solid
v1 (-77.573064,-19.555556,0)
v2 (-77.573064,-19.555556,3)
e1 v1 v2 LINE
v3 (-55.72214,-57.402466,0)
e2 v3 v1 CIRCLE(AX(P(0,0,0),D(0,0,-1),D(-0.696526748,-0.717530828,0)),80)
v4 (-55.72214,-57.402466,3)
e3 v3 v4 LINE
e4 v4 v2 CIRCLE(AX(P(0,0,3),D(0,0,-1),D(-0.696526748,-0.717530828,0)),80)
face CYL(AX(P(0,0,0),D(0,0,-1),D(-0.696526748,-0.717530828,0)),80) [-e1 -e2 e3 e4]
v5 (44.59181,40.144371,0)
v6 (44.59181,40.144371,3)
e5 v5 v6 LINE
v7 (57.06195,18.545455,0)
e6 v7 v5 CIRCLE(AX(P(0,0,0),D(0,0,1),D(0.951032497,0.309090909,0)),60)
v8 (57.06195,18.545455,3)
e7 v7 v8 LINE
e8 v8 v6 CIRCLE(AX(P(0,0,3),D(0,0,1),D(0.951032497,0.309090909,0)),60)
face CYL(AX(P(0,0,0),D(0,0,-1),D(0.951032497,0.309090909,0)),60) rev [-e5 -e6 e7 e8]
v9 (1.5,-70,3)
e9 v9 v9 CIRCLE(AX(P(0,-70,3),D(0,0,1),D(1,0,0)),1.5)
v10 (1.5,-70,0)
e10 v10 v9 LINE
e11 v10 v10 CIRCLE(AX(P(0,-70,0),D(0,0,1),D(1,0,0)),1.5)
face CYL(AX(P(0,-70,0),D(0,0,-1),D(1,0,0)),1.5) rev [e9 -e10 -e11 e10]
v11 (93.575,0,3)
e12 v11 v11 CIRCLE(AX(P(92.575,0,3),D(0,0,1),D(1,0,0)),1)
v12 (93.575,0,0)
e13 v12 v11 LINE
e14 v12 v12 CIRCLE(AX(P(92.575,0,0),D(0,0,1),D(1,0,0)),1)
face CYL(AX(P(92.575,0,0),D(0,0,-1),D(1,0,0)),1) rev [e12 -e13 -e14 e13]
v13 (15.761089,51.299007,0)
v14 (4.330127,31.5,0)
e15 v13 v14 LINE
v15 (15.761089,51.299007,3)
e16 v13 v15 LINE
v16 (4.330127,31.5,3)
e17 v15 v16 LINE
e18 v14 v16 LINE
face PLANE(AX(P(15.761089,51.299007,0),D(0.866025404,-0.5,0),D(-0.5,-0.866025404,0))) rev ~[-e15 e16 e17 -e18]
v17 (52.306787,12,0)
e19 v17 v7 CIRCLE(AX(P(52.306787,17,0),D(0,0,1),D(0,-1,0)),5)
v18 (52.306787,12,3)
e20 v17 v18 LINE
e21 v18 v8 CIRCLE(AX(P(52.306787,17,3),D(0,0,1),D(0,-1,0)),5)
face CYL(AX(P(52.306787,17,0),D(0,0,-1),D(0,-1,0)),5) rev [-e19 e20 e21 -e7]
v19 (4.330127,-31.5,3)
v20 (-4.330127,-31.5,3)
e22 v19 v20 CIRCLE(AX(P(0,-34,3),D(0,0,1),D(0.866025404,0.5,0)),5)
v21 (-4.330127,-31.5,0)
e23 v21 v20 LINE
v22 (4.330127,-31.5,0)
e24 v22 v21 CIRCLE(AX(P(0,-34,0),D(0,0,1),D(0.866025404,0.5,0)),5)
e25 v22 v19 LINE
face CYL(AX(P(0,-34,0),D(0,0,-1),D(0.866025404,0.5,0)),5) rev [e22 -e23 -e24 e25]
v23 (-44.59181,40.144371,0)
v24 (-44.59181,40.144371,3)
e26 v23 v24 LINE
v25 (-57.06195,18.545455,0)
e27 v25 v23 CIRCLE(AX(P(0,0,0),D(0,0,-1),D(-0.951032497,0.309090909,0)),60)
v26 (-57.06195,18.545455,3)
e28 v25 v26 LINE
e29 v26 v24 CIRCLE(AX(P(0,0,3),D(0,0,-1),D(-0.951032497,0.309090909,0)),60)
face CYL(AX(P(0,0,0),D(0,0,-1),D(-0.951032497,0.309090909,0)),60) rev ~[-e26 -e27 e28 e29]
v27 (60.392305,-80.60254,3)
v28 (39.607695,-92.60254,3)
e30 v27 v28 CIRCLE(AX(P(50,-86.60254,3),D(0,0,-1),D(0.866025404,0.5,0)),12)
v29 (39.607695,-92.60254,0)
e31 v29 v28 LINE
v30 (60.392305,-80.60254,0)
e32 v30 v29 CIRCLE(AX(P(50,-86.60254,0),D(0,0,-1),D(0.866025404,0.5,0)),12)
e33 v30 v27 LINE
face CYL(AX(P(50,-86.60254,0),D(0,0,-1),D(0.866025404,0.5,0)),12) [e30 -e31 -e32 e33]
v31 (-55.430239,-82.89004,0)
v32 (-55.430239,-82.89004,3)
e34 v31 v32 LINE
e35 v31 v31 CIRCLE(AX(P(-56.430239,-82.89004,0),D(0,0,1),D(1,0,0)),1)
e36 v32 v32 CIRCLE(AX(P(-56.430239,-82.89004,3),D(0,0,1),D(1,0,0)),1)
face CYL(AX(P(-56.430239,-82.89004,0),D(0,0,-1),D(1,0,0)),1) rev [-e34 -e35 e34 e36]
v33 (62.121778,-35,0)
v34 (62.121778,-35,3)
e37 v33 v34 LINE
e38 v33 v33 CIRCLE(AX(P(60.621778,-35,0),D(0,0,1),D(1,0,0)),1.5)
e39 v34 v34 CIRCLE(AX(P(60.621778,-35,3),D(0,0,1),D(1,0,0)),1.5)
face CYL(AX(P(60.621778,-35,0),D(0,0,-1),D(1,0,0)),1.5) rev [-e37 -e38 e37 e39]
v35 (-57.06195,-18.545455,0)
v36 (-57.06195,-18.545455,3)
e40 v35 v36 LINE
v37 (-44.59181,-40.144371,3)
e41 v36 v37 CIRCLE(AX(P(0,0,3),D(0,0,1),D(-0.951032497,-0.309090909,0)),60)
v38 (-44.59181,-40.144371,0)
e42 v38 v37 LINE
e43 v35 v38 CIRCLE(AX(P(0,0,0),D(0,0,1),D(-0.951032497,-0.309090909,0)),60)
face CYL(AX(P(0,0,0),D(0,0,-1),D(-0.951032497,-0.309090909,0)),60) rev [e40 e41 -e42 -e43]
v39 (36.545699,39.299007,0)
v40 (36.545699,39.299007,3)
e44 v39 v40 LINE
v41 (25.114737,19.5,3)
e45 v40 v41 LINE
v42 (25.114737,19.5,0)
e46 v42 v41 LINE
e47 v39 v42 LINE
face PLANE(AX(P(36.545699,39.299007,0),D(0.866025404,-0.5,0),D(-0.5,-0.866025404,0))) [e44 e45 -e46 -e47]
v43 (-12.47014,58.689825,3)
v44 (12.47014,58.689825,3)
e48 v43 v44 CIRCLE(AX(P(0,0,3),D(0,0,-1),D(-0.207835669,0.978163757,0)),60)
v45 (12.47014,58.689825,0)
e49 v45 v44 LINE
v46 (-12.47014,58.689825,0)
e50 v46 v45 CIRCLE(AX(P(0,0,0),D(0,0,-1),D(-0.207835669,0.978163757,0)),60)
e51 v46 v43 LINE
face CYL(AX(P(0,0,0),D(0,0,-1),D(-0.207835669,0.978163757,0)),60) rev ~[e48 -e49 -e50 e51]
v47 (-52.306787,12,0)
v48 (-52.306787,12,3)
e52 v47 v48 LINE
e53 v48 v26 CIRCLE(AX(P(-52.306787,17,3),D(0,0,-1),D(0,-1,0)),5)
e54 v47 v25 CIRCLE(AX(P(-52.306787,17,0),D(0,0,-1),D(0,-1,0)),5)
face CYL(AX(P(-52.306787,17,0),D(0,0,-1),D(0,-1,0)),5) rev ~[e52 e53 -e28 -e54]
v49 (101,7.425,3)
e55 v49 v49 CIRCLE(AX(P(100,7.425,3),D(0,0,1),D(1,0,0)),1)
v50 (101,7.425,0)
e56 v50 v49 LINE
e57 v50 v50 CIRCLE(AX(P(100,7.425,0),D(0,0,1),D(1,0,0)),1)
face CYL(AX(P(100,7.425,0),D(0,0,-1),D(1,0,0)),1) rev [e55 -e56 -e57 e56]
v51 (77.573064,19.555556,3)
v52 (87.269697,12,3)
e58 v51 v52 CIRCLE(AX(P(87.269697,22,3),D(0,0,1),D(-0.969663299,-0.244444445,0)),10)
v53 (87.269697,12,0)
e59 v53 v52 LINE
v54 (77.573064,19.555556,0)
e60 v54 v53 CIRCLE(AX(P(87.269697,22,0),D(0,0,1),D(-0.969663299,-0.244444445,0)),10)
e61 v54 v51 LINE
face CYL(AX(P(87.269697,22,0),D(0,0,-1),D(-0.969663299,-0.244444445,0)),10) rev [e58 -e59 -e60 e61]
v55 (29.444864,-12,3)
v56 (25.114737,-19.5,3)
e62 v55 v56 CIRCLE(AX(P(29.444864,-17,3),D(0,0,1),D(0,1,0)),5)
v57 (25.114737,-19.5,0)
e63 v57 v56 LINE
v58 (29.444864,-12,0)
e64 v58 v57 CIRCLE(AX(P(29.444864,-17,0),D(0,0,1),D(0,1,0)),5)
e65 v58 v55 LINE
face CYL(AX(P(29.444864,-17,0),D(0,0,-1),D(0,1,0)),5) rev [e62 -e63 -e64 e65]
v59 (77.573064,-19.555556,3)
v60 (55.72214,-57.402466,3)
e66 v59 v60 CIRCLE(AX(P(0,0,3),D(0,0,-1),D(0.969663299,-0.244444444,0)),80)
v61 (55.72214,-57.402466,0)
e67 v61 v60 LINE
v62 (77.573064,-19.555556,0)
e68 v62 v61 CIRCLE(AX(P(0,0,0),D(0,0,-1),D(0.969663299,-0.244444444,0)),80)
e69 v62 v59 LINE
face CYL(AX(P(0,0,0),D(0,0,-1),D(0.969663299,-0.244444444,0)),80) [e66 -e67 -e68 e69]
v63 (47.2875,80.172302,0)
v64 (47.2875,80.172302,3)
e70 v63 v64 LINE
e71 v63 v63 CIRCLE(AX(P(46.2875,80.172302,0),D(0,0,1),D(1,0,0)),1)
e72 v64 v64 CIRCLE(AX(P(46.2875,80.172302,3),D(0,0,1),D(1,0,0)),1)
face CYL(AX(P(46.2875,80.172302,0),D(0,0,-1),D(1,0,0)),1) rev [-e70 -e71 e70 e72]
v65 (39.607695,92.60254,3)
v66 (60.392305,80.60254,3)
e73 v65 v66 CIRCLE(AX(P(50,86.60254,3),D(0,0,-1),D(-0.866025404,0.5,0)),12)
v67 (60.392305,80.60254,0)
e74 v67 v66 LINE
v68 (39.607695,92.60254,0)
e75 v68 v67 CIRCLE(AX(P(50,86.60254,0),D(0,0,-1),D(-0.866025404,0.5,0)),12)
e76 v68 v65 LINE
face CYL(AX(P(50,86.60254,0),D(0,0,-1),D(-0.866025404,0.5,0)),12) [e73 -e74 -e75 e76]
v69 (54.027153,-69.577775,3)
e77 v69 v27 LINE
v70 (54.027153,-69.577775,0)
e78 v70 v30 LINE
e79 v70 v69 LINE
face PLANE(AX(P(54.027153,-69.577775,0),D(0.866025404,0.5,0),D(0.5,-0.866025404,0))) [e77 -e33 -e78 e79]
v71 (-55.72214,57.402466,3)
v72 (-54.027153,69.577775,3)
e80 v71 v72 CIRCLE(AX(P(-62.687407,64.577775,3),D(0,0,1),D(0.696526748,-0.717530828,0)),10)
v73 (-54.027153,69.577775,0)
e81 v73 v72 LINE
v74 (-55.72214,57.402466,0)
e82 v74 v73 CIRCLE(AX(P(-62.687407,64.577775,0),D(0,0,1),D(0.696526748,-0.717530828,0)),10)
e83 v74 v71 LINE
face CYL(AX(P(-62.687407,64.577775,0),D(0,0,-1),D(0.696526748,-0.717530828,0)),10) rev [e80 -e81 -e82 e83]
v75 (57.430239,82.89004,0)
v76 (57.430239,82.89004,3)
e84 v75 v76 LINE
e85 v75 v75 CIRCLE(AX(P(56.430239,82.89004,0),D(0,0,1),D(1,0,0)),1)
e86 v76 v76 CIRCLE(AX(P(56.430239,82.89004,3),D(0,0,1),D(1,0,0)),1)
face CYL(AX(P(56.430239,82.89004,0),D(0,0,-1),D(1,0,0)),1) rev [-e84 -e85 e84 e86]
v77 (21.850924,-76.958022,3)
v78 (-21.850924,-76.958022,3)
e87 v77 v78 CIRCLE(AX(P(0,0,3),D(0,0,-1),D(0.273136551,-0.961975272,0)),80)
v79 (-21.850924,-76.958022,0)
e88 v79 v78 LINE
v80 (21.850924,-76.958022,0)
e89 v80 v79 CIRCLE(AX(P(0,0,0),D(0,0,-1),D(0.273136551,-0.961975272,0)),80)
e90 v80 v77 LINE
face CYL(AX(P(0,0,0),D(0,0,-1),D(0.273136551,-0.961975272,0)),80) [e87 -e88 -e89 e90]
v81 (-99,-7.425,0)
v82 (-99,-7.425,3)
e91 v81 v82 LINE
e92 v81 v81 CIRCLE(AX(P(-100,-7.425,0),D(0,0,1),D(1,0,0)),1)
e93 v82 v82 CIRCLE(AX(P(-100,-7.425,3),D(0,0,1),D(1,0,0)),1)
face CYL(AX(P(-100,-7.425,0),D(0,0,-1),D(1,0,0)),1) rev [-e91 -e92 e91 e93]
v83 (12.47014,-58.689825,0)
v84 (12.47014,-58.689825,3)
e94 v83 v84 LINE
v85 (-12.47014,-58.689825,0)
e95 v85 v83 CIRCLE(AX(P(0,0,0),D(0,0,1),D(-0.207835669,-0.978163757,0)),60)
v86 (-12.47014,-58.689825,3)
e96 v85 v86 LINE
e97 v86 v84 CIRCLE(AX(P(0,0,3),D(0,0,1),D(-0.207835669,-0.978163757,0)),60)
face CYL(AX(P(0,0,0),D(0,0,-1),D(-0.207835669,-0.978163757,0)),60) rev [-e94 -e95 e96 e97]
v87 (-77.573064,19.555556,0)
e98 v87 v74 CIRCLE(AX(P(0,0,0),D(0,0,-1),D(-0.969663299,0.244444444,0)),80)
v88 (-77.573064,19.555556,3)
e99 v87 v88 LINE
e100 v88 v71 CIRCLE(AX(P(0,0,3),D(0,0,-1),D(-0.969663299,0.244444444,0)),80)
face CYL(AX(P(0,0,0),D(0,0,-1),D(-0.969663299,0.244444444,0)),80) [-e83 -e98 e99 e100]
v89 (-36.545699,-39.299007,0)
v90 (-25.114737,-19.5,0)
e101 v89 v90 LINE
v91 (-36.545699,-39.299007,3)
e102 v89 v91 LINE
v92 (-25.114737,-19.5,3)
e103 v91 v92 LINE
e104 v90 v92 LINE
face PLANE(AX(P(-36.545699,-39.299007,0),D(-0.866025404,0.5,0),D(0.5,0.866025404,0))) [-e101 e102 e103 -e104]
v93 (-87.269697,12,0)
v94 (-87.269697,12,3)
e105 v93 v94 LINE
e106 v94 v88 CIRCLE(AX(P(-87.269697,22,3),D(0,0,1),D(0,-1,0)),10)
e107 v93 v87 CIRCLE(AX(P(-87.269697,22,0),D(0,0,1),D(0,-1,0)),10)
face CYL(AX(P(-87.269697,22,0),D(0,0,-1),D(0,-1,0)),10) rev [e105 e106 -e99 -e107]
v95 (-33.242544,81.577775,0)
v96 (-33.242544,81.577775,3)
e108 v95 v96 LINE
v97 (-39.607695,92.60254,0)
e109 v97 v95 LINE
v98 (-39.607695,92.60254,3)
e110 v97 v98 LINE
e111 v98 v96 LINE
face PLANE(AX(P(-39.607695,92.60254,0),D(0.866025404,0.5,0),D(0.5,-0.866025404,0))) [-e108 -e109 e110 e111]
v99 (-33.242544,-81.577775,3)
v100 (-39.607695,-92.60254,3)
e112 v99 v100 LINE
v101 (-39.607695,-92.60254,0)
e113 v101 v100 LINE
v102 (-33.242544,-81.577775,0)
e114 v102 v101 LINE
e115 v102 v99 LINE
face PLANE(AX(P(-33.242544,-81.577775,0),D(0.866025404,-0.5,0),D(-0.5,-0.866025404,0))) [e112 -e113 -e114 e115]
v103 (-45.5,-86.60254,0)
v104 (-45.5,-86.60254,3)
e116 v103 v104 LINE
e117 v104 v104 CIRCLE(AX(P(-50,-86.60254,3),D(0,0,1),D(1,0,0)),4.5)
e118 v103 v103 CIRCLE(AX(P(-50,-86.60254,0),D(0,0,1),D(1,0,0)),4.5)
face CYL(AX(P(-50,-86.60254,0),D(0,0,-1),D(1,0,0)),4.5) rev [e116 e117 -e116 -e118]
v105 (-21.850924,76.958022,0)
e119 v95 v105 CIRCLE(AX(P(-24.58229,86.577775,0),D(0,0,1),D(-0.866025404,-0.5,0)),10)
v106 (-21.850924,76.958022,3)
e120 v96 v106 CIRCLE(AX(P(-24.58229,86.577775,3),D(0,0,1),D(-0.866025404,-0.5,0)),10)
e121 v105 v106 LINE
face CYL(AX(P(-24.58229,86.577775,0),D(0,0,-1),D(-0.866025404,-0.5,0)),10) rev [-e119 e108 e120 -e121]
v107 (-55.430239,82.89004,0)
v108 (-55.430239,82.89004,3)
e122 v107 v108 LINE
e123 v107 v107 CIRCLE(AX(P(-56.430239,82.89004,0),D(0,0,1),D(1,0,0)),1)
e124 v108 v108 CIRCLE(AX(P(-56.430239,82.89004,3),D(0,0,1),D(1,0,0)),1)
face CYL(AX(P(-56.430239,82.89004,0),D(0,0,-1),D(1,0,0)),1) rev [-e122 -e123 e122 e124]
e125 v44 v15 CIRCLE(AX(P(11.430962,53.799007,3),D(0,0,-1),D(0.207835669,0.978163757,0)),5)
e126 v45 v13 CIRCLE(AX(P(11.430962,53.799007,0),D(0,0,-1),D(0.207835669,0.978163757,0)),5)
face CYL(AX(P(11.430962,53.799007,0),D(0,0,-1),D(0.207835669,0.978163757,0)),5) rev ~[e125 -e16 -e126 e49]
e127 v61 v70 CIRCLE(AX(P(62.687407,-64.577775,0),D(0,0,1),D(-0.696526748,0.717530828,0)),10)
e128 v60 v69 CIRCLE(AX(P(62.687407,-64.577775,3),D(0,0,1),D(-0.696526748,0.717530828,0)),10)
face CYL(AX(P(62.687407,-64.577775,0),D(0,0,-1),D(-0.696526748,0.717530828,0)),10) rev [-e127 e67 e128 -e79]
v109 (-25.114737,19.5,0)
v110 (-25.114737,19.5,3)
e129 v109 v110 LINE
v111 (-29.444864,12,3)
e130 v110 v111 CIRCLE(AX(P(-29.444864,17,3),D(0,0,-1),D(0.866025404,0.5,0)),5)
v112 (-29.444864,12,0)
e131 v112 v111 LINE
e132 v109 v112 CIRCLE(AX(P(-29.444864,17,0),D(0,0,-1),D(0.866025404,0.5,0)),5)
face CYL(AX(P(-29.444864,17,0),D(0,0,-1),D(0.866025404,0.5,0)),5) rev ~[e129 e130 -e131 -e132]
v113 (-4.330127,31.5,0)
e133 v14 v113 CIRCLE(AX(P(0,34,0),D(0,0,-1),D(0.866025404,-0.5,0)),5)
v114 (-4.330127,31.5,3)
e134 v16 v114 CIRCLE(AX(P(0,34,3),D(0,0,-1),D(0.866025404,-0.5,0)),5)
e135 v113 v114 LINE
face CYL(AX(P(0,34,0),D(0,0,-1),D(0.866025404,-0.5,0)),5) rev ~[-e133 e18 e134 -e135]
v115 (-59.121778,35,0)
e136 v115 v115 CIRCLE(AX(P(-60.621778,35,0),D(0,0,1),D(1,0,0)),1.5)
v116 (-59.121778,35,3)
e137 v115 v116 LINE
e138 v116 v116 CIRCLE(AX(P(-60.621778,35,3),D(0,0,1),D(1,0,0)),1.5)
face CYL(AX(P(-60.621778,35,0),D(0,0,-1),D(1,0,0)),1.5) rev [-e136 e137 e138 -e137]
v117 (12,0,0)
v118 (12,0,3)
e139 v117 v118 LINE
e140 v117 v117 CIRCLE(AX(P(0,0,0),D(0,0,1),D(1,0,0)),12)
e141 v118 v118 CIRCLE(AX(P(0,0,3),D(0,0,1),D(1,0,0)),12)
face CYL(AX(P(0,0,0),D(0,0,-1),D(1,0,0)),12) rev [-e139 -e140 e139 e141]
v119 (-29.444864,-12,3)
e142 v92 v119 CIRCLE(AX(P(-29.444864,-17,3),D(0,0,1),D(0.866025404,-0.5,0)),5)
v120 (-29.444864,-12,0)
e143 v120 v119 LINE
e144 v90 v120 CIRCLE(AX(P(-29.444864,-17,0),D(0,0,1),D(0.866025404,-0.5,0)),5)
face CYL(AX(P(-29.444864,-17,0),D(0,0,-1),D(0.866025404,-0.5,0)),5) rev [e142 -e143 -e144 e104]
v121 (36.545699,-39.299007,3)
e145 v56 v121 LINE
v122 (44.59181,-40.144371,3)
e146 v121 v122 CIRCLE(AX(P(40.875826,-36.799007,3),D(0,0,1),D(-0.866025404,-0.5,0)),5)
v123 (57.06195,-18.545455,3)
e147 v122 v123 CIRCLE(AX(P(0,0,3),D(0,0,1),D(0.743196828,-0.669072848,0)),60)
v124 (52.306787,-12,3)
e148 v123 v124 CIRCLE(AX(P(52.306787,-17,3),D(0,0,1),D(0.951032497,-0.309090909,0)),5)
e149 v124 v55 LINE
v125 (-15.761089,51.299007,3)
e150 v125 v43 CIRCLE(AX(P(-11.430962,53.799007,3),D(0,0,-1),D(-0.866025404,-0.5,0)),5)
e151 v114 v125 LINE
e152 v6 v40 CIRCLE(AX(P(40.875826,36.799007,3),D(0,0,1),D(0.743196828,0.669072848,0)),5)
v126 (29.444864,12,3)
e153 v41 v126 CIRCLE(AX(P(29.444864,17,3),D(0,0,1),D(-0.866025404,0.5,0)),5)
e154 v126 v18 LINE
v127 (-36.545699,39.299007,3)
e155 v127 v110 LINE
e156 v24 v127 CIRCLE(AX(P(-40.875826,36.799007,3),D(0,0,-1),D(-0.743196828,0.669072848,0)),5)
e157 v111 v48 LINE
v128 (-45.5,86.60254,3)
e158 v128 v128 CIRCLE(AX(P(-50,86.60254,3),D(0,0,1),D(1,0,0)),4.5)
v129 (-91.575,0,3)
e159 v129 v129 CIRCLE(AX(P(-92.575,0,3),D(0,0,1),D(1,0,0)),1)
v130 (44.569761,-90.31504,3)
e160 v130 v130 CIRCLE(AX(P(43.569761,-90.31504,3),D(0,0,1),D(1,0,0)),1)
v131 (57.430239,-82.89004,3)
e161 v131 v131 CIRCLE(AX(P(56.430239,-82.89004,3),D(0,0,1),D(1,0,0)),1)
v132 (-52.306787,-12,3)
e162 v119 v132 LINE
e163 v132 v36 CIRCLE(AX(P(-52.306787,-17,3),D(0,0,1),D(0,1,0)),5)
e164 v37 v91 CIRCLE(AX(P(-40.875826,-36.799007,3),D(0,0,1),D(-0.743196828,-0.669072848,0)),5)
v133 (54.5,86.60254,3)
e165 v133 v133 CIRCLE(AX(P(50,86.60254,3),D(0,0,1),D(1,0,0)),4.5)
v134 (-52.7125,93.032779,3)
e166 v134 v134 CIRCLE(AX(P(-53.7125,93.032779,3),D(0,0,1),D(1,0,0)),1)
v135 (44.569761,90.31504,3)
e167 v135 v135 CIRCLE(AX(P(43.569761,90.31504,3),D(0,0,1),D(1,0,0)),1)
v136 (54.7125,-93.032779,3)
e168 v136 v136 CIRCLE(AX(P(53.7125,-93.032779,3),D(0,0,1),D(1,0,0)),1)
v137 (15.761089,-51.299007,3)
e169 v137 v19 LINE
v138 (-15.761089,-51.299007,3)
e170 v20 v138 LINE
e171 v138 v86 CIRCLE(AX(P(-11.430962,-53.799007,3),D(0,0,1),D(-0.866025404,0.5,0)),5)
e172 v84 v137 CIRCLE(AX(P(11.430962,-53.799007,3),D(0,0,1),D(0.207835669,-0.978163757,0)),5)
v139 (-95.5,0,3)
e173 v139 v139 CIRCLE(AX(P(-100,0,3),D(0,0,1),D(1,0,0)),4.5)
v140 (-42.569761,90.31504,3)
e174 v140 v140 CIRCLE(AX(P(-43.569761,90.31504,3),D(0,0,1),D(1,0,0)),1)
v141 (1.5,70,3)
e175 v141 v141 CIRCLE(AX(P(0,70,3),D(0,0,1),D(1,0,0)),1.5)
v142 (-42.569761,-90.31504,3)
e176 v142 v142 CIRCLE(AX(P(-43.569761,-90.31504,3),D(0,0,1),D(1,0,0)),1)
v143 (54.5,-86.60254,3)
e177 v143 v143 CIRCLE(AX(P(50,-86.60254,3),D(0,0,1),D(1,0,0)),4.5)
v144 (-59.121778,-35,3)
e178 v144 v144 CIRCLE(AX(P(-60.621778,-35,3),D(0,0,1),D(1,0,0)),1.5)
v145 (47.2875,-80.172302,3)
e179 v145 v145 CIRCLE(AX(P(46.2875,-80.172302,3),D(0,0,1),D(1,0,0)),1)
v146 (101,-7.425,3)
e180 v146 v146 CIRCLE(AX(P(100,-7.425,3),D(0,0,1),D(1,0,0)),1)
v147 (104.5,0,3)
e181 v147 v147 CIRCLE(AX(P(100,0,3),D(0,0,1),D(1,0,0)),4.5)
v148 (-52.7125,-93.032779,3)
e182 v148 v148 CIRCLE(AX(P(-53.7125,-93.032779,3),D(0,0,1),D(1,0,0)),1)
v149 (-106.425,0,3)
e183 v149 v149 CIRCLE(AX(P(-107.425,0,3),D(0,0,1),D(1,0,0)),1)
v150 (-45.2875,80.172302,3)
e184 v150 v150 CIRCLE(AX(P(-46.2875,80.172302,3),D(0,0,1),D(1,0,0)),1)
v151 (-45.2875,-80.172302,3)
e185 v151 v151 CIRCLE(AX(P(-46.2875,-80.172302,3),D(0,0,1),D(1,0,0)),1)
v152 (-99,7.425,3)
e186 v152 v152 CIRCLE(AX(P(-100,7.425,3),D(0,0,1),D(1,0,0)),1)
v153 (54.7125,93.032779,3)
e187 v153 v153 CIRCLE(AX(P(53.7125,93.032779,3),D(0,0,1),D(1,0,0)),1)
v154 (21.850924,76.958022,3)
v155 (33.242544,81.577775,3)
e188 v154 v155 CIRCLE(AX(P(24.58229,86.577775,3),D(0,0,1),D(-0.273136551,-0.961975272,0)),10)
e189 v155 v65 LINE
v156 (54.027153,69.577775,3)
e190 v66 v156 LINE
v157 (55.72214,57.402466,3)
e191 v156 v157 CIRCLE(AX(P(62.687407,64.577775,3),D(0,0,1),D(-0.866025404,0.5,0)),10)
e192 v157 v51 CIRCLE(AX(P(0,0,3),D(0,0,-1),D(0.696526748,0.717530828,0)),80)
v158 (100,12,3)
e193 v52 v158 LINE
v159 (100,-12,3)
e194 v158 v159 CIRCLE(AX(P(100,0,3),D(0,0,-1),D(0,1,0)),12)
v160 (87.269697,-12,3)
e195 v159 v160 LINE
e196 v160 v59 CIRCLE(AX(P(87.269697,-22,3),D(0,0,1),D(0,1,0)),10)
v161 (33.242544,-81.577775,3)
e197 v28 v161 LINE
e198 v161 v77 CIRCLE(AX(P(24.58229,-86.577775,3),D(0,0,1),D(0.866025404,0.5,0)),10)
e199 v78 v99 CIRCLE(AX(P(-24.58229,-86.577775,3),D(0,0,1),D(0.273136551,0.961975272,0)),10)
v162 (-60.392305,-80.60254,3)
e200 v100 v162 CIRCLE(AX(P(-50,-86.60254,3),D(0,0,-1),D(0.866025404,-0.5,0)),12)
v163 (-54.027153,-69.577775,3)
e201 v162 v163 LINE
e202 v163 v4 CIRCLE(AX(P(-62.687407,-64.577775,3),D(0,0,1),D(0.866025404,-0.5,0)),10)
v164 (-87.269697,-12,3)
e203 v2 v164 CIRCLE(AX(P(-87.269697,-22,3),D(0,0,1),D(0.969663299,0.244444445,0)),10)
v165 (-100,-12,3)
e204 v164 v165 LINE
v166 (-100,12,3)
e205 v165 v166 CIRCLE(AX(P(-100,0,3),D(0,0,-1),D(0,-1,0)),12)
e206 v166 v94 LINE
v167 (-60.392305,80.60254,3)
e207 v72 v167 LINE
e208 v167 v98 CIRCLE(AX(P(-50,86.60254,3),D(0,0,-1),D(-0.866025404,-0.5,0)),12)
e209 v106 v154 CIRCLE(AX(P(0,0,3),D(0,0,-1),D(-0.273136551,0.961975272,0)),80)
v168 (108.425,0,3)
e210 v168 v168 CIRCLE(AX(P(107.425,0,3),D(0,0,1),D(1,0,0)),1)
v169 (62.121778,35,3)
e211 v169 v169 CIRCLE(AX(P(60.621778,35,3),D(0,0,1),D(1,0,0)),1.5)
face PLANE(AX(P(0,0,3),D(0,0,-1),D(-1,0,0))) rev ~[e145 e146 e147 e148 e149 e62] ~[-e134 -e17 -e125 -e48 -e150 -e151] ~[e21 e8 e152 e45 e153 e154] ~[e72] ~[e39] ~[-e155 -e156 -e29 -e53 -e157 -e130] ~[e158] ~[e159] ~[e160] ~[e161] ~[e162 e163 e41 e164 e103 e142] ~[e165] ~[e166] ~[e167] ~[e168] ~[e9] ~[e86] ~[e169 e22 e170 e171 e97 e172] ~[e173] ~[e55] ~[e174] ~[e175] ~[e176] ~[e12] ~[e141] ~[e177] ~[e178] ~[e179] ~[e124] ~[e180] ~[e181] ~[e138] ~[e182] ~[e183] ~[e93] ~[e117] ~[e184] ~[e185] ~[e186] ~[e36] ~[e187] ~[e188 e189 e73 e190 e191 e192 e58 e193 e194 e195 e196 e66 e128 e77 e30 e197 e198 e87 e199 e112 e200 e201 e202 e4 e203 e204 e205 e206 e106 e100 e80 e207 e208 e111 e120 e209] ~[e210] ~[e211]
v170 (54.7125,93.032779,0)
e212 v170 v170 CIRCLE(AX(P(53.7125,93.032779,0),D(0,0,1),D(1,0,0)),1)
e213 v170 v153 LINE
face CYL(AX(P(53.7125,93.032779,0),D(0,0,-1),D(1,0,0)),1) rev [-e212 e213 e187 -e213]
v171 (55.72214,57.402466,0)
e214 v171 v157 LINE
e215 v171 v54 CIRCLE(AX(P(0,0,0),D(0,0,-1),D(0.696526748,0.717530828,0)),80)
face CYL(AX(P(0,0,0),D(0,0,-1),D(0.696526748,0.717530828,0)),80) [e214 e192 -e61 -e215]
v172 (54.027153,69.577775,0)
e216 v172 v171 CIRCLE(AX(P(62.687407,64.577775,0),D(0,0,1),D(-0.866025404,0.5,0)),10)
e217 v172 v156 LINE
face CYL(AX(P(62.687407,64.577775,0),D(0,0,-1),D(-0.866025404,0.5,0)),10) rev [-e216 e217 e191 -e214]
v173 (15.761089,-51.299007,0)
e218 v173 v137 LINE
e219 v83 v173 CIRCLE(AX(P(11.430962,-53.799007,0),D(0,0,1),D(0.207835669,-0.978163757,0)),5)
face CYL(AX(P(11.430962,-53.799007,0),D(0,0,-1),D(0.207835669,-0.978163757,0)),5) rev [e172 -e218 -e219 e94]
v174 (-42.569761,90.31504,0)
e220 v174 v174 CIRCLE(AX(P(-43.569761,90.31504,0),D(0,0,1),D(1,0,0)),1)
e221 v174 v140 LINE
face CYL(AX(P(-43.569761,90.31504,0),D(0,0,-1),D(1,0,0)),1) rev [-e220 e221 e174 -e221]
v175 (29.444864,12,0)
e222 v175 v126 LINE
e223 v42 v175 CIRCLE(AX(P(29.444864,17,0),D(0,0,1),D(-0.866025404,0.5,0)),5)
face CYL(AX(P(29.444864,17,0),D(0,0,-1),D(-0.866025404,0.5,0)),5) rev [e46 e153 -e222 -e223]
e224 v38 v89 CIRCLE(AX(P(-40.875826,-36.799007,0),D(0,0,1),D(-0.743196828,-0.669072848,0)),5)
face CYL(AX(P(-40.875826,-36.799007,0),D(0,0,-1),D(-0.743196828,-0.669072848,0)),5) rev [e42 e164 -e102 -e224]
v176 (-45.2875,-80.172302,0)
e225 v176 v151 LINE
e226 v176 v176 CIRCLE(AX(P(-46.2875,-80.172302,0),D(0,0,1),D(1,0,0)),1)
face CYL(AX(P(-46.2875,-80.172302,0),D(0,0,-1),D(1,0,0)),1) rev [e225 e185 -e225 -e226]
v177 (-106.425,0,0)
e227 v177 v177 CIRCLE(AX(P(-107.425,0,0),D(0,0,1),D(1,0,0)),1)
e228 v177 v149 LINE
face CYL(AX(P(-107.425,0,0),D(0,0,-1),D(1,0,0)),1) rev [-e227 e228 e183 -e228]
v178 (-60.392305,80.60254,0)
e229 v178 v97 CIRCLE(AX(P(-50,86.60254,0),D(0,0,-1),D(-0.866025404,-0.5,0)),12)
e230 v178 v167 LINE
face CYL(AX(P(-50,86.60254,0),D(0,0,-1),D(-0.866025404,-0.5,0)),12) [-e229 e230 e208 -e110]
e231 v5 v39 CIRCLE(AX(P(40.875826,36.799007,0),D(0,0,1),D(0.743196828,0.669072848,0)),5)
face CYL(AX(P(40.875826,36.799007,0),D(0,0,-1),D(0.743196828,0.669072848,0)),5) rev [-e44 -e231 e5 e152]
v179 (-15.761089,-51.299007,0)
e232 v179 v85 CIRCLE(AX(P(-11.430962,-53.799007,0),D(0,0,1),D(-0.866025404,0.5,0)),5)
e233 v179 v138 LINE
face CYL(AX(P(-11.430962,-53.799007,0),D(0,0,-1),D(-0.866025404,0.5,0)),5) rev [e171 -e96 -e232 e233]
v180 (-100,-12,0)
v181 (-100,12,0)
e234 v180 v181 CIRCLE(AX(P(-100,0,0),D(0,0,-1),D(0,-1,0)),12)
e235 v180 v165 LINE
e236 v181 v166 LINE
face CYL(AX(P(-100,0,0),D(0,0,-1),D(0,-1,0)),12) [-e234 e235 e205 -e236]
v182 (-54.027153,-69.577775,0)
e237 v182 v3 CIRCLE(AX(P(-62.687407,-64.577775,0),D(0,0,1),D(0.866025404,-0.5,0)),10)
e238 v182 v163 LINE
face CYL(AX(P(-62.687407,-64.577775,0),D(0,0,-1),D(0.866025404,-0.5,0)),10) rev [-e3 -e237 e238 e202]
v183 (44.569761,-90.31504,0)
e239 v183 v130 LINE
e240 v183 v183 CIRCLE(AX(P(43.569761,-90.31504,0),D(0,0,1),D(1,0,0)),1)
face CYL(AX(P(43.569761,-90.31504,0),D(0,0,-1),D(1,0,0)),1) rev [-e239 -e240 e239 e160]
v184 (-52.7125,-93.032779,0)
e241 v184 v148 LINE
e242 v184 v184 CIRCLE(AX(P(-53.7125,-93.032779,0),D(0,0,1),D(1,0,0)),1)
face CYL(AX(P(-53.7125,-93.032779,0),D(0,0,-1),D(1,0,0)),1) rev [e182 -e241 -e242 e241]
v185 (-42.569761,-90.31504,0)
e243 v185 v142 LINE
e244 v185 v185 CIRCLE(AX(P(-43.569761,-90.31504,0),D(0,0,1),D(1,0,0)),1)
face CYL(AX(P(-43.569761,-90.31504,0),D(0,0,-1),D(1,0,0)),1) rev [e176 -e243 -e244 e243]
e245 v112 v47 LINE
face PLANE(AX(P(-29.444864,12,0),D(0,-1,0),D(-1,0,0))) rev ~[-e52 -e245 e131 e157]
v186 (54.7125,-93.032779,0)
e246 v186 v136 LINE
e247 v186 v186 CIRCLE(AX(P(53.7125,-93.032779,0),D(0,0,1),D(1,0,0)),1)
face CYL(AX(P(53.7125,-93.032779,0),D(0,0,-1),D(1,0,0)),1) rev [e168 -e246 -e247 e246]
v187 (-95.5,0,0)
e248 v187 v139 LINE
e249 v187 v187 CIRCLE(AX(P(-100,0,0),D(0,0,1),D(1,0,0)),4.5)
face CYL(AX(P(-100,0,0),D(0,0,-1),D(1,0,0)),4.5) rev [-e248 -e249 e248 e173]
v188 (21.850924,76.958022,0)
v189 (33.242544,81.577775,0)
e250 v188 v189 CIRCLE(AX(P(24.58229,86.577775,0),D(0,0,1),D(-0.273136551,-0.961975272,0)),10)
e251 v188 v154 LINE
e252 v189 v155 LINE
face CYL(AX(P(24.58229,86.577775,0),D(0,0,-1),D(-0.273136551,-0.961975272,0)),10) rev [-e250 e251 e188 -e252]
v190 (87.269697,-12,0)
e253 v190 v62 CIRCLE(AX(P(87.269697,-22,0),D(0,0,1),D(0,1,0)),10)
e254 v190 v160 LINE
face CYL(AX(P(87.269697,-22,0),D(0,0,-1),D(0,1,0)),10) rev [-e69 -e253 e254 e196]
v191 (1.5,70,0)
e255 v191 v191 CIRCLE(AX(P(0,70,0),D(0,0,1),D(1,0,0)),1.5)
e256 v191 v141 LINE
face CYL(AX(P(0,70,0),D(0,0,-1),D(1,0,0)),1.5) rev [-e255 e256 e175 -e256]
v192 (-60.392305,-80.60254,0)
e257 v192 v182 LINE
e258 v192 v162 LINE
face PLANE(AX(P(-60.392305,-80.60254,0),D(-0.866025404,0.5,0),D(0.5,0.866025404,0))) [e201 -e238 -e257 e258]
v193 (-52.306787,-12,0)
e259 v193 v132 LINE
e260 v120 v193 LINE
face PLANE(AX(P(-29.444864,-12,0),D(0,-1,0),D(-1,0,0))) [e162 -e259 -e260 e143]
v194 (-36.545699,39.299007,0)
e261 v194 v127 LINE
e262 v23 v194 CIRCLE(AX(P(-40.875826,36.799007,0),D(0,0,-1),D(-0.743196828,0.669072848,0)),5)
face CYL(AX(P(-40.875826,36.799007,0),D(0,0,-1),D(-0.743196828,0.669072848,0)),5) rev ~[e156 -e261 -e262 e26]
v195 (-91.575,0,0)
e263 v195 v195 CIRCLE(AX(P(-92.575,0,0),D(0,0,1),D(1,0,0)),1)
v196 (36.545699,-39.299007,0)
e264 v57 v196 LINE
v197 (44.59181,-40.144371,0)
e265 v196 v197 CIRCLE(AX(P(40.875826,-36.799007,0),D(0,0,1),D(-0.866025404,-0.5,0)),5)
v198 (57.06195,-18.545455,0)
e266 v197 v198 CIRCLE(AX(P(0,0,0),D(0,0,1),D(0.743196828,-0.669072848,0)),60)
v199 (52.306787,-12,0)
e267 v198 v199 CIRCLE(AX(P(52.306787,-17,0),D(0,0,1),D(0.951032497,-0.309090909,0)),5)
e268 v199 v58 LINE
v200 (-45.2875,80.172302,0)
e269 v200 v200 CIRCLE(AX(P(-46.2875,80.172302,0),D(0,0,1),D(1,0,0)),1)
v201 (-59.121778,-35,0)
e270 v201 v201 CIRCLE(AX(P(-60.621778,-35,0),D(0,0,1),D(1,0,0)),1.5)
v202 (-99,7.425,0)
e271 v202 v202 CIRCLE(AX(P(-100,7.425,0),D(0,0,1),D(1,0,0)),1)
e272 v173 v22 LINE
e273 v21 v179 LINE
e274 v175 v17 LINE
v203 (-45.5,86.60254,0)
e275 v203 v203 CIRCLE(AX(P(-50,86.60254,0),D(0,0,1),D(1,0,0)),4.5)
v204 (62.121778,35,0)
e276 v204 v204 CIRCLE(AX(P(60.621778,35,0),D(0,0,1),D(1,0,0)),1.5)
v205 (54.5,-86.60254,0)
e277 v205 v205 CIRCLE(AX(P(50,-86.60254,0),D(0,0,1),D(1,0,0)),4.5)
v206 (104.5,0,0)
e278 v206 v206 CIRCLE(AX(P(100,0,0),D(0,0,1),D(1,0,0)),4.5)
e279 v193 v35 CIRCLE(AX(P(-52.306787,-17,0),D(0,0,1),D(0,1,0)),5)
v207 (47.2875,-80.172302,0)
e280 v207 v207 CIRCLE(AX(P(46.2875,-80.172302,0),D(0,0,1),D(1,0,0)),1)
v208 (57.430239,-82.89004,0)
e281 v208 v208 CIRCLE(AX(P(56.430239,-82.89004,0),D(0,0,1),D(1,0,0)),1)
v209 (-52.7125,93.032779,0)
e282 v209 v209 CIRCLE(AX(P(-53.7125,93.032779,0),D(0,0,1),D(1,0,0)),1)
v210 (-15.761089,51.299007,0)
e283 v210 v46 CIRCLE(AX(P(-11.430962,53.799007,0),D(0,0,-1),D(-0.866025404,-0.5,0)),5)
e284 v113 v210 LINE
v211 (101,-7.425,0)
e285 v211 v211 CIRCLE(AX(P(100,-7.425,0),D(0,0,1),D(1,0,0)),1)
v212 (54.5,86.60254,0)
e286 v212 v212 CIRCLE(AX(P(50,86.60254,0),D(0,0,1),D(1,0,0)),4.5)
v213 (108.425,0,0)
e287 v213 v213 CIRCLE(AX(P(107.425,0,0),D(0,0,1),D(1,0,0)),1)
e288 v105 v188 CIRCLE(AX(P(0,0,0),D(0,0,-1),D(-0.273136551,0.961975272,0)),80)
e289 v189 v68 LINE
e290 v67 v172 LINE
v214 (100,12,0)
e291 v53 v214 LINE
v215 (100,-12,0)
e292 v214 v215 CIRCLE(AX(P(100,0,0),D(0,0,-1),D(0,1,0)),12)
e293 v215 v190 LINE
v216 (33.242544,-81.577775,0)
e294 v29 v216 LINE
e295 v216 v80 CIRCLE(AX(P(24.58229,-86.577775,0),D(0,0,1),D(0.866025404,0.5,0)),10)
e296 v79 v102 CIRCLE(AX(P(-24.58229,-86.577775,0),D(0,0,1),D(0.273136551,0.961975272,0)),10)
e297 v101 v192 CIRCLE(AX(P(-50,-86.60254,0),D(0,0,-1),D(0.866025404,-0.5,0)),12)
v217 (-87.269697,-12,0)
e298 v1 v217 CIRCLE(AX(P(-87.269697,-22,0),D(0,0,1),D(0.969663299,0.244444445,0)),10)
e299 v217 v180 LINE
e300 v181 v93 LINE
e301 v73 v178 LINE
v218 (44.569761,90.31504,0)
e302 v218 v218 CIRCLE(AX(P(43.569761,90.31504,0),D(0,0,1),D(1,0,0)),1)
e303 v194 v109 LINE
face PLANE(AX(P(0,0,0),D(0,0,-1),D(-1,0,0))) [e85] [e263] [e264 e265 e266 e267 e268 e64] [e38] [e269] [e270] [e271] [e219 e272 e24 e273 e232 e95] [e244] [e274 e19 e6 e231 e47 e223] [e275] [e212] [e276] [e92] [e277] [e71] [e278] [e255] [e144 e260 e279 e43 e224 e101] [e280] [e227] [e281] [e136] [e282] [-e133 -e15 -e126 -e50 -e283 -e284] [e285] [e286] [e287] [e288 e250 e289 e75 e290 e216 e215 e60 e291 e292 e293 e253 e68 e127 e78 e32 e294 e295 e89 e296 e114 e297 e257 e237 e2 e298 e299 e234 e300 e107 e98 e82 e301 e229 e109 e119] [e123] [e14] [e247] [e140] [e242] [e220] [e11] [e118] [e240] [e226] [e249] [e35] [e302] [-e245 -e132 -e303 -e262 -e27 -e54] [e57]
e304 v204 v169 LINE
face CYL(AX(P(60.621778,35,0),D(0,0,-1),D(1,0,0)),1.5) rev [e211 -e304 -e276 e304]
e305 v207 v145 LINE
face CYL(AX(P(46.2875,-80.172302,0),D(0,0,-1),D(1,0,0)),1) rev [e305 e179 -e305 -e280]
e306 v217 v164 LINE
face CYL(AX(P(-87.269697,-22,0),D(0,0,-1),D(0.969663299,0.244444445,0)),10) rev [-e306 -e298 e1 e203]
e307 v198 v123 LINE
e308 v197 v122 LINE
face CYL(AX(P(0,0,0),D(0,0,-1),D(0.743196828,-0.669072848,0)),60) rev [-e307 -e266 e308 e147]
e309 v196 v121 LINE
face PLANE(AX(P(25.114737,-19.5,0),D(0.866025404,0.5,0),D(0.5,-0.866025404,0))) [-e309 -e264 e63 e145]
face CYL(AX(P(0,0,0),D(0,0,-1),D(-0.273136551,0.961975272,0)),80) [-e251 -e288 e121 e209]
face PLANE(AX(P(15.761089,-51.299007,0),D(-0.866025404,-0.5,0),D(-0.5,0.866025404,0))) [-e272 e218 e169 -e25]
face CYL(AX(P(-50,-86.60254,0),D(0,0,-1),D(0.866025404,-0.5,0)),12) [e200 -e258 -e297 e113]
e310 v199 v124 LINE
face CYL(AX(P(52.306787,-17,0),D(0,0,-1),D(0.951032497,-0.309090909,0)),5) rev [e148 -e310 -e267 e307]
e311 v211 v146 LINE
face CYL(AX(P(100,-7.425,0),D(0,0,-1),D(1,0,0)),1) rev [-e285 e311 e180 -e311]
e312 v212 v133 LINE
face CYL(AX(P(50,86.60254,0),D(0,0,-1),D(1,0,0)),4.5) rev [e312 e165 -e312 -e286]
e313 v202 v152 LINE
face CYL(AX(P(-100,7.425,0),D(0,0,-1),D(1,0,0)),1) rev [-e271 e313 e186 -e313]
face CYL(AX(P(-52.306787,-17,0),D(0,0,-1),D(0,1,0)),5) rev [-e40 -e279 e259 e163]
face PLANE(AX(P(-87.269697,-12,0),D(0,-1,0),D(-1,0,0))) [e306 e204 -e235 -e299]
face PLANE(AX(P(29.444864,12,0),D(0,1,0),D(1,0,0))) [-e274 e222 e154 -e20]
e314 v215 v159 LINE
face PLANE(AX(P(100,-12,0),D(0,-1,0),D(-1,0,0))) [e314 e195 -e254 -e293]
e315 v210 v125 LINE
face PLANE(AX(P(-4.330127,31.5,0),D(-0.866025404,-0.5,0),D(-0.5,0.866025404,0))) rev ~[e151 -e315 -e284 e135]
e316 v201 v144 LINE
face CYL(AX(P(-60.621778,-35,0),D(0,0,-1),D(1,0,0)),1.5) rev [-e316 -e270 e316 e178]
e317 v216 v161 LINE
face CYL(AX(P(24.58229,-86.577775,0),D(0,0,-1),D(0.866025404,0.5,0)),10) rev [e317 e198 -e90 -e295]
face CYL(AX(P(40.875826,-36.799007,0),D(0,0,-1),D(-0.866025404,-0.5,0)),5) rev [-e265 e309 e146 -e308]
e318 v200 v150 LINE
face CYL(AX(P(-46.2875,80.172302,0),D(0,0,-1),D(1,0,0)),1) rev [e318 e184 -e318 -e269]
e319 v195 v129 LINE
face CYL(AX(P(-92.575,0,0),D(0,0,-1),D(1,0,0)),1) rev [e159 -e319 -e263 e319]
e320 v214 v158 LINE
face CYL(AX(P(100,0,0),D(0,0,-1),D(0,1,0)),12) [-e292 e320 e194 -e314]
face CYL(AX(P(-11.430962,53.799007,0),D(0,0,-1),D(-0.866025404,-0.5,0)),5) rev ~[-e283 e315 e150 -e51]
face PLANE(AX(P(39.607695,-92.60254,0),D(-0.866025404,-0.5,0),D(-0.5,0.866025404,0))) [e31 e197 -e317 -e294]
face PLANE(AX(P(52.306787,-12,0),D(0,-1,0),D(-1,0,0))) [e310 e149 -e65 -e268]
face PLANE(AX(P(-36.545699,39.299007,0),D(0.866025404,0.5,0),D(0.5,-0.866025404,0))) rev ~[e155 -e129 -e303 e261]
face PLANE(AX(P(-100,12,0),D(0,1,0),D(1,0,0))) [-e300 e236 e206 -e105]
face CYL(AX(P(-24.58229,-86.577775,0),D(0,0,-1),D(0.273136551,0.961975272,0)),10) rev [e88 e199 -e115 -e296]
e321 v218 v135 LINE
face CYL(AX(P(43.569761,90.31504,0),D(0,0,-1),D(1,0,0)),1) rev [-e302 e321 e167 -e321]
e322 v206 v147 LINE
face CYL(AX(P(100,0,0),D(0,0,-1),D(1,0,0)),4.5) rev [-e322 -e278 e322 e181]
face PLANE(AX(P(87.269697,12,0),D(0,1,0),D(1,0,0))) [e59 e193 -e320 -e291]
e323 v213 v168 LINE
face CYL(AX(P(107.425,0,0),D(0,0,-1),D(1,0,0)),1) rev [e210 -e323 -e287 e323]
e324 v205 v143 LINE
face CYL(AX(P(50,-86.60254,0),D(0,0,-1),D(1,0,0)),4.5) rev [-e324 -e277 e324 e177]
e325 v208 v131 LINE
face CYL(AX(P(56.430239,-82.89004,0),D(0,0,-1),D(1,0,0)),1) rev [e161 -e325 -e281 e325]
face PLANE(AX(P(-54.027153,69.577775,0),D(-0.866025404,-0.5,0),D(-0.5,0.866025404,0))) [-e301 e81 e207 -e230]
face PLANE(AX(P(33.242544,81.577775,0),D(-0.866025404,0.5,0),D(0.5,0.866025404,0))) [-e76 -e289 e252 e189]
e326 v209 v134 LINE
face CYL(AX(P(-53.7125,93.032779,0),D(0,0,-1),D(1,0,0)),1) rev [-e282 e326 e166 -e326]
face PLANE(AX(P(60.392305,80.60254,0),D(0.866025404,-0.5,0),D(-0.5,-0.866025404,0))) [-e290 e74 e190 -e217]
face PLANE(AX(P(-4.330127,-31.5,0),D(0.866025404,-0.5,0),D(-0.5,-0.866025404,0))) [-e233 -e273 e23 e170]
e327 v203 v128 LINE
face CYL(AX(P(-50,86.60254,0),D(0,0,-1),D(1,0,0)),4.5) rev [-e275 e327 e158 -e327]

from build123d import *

# Parameters (mm, degrees)
SKETCH1_R           = 4.5
SKETCH1_R_2         = 1
SKETCH1_R_3         = 12
SKETCH1_R_4         = 1.5
BOSS_EXTRUDE1_DEPTH = 3


with BuildPart() as part:
    # Sketch1 → Boss-Extrude1 (new body)
    with BuildSketch(Plane.XY):
        with BuildLine():
            Line((-54.027153304, 69.577774511), (-60.392304845, 80.602540378))
            ThreePointArc((-60.392304845, 80.602540378), (-56, 96.994845224), (-39.607695155, 92.602540378))
            Line((-39.607695155, 92.602540378), (-33.242543613, 81.577774511))
            ThreePointArc((-33.242543613, 81.577774511), (-28.3404086, 77.310814848), (-21.850924067, 76.958021787))
            ThreePointArc((-21.850924067, 76.958021787), (0, 80), (21.850924067, 76.958021787))
            ThreePointArc((21.850924067, 76.958021787), (28.3404086, 77.310814848), (33.242543613, 81.577774511))
            Line((33.242543613, 81.577774511), (39.607695155, 92.602540378))
            ThreePointArc((39.607695155, 92.602540378), (56, 96.994845224), (60.392304845, 80.602540378))
            Line((60.392304845, 80.602540378), (54.027153304, 69.577774511))
            ThreePointArc((54.027153304, 69.577774511), (52.782925345, 63.198921225), (55.722139859, 57.402466232))
            ThreePointArc((55.722139859, 57.402466232), (69.282032303, 40), (77.573063926, 19.555555556))
            ThreePointArc((77.573063926, 19.555555556), (81.123333946, 14.111893623), (87.269696917, 12))
            Line((87.269696917, 12), (100, 12))
            ThreePointArc((100, 12), (112, 0), (100, -12))
            Line((100, -12), (87.269696917, -12))
            ThreePointArc((87.269696917, -12), (81.123333946, -14.111893623), (77.573063926, -19.555555556))
            ThreePointArc((77.573063926, -19.555555556), (69.282032303, -40), (55.722139859, -57.402466232))
            ThreePointArc((55.722139859, -57.402466232), (52.782925345, -63.198921225), (54.027153304, -69.577774511))
            Line((54.027153304, -69.577774511), (60.392304845, -80.602540378))
            ThreePointArc((60.392304845, -80.602540378), (56, -96.994845224), (39.607695155, -92.602540378))
            Line((39.607695155, -92.602540378), (33.242543613, -81.577774511))
            ThreePointArc((33.242543613, -81.577774511), (28.3404086, -77.310814848), (21.850924067, -76.958021787))
            ThreePointArc((21.850924067, -76.958021787), (0, -80), (-21.850924067, -76.958021787))
            ThreePointArc((-21.850924067, -76.958021787), (-28.3404086, -77.310814848), (-33.242543613, -81.577774511))
            Line((-33.242543613, -81.577774511), (-39.607695155, -92.602540378))
            ThreePointArc((-39.607695155, -92.602540378), (-56, -96.994845224), (-60.392304845, -80.602540378))
            Line((-60.392304845, -80.602540378), (-54.027153304, -69.577774511))
            ThreePointArc((-54.027153304, -69.577774511), (-52.782925345, -63.198921225), (-55.722139859, -57.402466232))
            ThreePointArc((-55.722139859, -57.402466232), (-69.282032303, -40), (-77.573063926, -19.555555556))
            ThreePointArc((-77.573063926, -19.555555556), (-81.123333946, -14.111893623), (-87.269696917, -12))
            Line((-87.269696917, -12), (-100, -12))
            ThreePointArc((-100, -12), (-112, 0), (-100, 12))
            Line((-100, 12), (-87.269696917, 12))
            ThreePointArc((-87.269696917, 12), (-81.123333946, 14.111893623), (-77.573063926, 19.555555556))
            ThreePointArc((-77.573063926, 19.555555556), (-69.282032303, 40), (-55.722139859, 57.402466232))
            ThreePointArc((-55.722139859, 57.402466232), (-52.782925345, 63.198921225), (-54.027153304, 69.577774511))
        make_face()
        with Locations((100, 0)):
            Circle(SKETCH1_R, mode=Mode.SUBTRACT)
        with Locations((107.425, 0)):
            Circle(SKETCH1_R_2, mode=Mode.SUBTRACT)
        with Locations((100, 7.425)):
            Circle(SKETCH1_R_2, mode=Mode.SUBTRACT)
        with Locations((92.575, 0)):
            Circle(SKETCH1_R_2, mode=Mode.SUBTRACT)
        with Locations((100, -7.425)):
            Circle(SKETCH1_R_2, mode=Mode.SUBTRACT)
        with Locations((50, -86.602540378)):
            Circle(SKETCH1_R, mode=Mode.SUBTRACT)
        with Locations((56.430238623, -82.890040378)):
            Circle(SKETCH1_R_2, mode=Mode.SUBTRACT)
        with Locations((53.7125, -93.032779002)):
            Circle(SKETCH1_R_2, mode=Mode.SUBTRACT)
        with Locations((43.569761377, -90.315040378)):
            Circle(SKETCH1_R_2, mode=Mode.SUBTRACT)
        with Locations((46.2875, -80.172301755)):
            Circle(SKETCH1_R_2, mode=Mode.SUBTRACT)
        with Locations((-50, -86.602540378)):
            Circle(SKETCH1_R, mode=Mode.SUBTRACT)
        with Locations((-43.569761377, -90.315040378)):
            Circle(SKETCH1_R_2, mode=Mode.SUBTRACT)
        with Locations((-53.7125, -93.032779002)):
            Circle(SKETCH1_R_2, mode=Mode.SUBTRACT)
        with Locations((-56.430238623, -82.890040378)):
            Circle(SKETCH1_R_2, mode=Mode.SUBTRACT)
        with Locations((-46.2875, -80.172301755)):
            Circle(SKETCH1_R_2, mode=Mode.SUBTRACT)
        with Locations((-100, 0)):
            Circle(SKETCH1_R, mode=Mode.SUBTRACT)
        with Locations((-100, -7.425)):
            Circle(SKETCH1_R_2, mode=Mode.SUBTRACT)
        with Locations((-107.425, 0)):
            Circle(SKETCH1_R_2, mode=Mode.SUBTRACT)
        with Locations((-100, 7.425)):
            Circle(SKETCH1_R_2, mode=Mode.SUBTRACT)
        with Locations((-92.575, 0)):
            Circle(SKETCH1_R_2, mode=Mode.SUBTRACT)
        with Locations((-50, 86.602540378)):
            Circle(SKETCH1_R, mode=Mode.SUBTRACT)
        with Locations((-56.430238623, 82.890040378)):
            Circle(SKETCH1_R_2, mode=Mode.SUBTRACT)
        with Locations((-53.7125, 93.032779002)):
            Circle(SKETCH1_R_2, mode=Mode.SUBTRACT)
        with Locations((-43.569761377, 90.315040378)):
            Circle(SKETCH1_R_2, mode=Mode.SUBTRACT)
        with Locations((-46.2875, 80.172301755)):
            Circle(SKETCH1_R_2, mode=Mode.SUBTRACT)
        with Locations((50, 86.602540378)):
            Circle(SKETCH1_R, mode=Mode.SUBTRACT)
        with Locations((43.569761377, 90.315040378)):
            Circle(SKETCH1_R_2, mode=Mode.SUBTRACT)
        with Locations((53.7125, 93.032779002)):
            Circle(SKETCH1_R_2, mode=Mode.SUBTRACT)
        with Locations((56.430238623, 82.890040378)):
            Circle(SKETCH1_R_2, mode=Mode.SUBTRACT)
        with Locations((46.2875, 80.172301755)):
            Circle(SKETCH1_R_2, mode=Mode.SUBTRACT)
        Circle(SKETCH1_R_3, mode=Mode.SUBTRACT)
        with Locations((0, 70)):
            Circle(SKETCH1_R_4, mode=Mode.SUBTRACT)
        with Locations((60.621778265, 35)):
            Circle(SKETCH1_R_4, mode=Mode.SUBTRACT)
        with Locations((60.621778265, -35)):
            Circle(SKETCH1_R_4, mode=Mode.SUBTRACT)
        with Locations((0, -70)):
            Circle(SKETCH1_R_4, mode=Mode.SUBTRACT)
        with Locations((-60.621778265, -35)):
            Circle(SKETCH1_R_4, mode=Mode.SUBTRACT)
        with Locations((-60.621778265, 35)):
            Circle(SKETCH1_R_4, mode=Mode.SUBTRACT)
        with BuildLine():
            Line((-36.545698507, 39.299006612), (-25.11473671, 19.5))
            ThreePointArc((-25.11473671, 19.5), (-25.11473671, 14.5), (-29.444863729, 12))
            Line((-29.444863729, 12), (-52.306787322, 12))
            ThreePointArc((-52.306787322, 12), (-56.351986497, 14.061230932), (-57.061949806, 18.545454545))
            ThreePointArc((-57.061949806, 18.545454545), (-51.961524227, 30), (-44.591809664, 40.144370849))
            ThreePointArc((-44.591809664, 40.144370849), (-40.353376444, 41.771636394), (-36.545698507, 39.299006612))
        make_face(mode=Mode.SUBTRACT)
        with BuildLine():
            Line((15.761088816, 51.299006612), (4.330127019, 31.5))
            ThreePointArc((4.330127019, 31.5), (0, 29), (-4.330127019, 31.5))
            Line((-4.330127019, 31.5), (-15.761088816, 51.299006612))
            ThreePointArc((-15.761088816, 51.299006612), (-15.998610053, 55.832867326), (-12.470140142, 58.689825394))
            ThreePointArc((-12.470140142, 58.689825394), (0, 60), (12.470140142, 58.689825394))
            ThreePointArc((12.470140142, 58.689825394), (15.998610053, 55.832867326), (15.761088816, 51.299006612))
        make_face(mode=Mode.SUBTRACT)
        with BuildLine():
            Line((36.545698507, 39.299006612), (25.11473671, 19.5))
            ThreePointArc((25.11473671, 19.5), (25.11473671, 14.5), (29.444863729, 12))
            Line((29.444863729, 12), (52.306787322, 12))
            ThreePointArc((52.306787322, 12), (56.351986497, 14.061230932), (57.061949806, 18.545454545))
            ThreePointArc((57.061949806, 18.545454545), (51.961524227, 30), (44.591809664, 40.144370849))
            ThreePointArc((44.591809664, 40.144370849), (40.353376444, 41.771636394), (36.545698507, 39.299006612))
        make_face(mode=Mode.SUBTRACT)
        with BuildLine():
            Line((52.306787322, -12), (29.444863729, -12))
            ThreePointArc((29.444863729, -12), (25.11473671, -14.5), (25.11473671, -19.5))
            Line((25.11473671, -19.5), (36.545698507, -39.299006612))
            ThreePointArc((36.545698507, -39.299006612), (40.353376444, -41.771636394), (44.591809664, -40.144370849))
            ThreePointArc((44.591809664, -40.144370849), (51.961524227, -30), (57.061949806, -18.545454545))
            ThreePointArc((57.061949806, -18.545454545), (56.351986497, -14.061230932), (52.306787322, -12))
        make_face(mode=Mode.SUBTRACT)
        with BuildLine():
            Line((15.761088816, -51.299006612), (4.330127019, -31.5))
            ThreePointArc((4.330127019, -31.5), (0, -29), (-4.330127019, -31.5))
            Line((-4.330127019, -31.5), (-15.761088816, -51.299006612))
            ThreePointArc((-15.761088816, -51.299006612), (-15.998610053, -55.832867326), (-12.470140142, -58.689825395))
            ThreePointArc((-12.470140142, -58.689825395), (0, -60), (12.470140142, -58.689825394))
            ThreePointArc((12.470140142, -58.689825394), (15.998610053, -55.832867326), (15.761088816, -51.299006612))
        make_face(mode=Mode.SUBTRACT)
        with BuildLine():
            Line((-36.545698507, -39.299006612), (-25.11473671, -19.5))
            ThreePointArc((-25.11473671, -19.5), (-25.11473671, -14.5), (-29.444863729, -12))
            Line((-29.444863729, -12), (-52.306787322, -12))
            ThreePointArc((-52.306787322, -12), (-56.351986497, -14.061230932), (-57.061949806, -18.545454545))
            ThreePointArc((-57.061949806, -18.545454545), (-51.961524227, -30), (-44.591809664, -40.144370849))
            ThreePointArc((-44.591809664, -40.144370849), (-40.353376444, -41.771636394), (-36.545698507, -39.299006612))
        make_face(mode=Mode.SUBTRACT)
    extrude(amount=BOSS_EXTRUDE1_DEPTH)


solid = part.part
